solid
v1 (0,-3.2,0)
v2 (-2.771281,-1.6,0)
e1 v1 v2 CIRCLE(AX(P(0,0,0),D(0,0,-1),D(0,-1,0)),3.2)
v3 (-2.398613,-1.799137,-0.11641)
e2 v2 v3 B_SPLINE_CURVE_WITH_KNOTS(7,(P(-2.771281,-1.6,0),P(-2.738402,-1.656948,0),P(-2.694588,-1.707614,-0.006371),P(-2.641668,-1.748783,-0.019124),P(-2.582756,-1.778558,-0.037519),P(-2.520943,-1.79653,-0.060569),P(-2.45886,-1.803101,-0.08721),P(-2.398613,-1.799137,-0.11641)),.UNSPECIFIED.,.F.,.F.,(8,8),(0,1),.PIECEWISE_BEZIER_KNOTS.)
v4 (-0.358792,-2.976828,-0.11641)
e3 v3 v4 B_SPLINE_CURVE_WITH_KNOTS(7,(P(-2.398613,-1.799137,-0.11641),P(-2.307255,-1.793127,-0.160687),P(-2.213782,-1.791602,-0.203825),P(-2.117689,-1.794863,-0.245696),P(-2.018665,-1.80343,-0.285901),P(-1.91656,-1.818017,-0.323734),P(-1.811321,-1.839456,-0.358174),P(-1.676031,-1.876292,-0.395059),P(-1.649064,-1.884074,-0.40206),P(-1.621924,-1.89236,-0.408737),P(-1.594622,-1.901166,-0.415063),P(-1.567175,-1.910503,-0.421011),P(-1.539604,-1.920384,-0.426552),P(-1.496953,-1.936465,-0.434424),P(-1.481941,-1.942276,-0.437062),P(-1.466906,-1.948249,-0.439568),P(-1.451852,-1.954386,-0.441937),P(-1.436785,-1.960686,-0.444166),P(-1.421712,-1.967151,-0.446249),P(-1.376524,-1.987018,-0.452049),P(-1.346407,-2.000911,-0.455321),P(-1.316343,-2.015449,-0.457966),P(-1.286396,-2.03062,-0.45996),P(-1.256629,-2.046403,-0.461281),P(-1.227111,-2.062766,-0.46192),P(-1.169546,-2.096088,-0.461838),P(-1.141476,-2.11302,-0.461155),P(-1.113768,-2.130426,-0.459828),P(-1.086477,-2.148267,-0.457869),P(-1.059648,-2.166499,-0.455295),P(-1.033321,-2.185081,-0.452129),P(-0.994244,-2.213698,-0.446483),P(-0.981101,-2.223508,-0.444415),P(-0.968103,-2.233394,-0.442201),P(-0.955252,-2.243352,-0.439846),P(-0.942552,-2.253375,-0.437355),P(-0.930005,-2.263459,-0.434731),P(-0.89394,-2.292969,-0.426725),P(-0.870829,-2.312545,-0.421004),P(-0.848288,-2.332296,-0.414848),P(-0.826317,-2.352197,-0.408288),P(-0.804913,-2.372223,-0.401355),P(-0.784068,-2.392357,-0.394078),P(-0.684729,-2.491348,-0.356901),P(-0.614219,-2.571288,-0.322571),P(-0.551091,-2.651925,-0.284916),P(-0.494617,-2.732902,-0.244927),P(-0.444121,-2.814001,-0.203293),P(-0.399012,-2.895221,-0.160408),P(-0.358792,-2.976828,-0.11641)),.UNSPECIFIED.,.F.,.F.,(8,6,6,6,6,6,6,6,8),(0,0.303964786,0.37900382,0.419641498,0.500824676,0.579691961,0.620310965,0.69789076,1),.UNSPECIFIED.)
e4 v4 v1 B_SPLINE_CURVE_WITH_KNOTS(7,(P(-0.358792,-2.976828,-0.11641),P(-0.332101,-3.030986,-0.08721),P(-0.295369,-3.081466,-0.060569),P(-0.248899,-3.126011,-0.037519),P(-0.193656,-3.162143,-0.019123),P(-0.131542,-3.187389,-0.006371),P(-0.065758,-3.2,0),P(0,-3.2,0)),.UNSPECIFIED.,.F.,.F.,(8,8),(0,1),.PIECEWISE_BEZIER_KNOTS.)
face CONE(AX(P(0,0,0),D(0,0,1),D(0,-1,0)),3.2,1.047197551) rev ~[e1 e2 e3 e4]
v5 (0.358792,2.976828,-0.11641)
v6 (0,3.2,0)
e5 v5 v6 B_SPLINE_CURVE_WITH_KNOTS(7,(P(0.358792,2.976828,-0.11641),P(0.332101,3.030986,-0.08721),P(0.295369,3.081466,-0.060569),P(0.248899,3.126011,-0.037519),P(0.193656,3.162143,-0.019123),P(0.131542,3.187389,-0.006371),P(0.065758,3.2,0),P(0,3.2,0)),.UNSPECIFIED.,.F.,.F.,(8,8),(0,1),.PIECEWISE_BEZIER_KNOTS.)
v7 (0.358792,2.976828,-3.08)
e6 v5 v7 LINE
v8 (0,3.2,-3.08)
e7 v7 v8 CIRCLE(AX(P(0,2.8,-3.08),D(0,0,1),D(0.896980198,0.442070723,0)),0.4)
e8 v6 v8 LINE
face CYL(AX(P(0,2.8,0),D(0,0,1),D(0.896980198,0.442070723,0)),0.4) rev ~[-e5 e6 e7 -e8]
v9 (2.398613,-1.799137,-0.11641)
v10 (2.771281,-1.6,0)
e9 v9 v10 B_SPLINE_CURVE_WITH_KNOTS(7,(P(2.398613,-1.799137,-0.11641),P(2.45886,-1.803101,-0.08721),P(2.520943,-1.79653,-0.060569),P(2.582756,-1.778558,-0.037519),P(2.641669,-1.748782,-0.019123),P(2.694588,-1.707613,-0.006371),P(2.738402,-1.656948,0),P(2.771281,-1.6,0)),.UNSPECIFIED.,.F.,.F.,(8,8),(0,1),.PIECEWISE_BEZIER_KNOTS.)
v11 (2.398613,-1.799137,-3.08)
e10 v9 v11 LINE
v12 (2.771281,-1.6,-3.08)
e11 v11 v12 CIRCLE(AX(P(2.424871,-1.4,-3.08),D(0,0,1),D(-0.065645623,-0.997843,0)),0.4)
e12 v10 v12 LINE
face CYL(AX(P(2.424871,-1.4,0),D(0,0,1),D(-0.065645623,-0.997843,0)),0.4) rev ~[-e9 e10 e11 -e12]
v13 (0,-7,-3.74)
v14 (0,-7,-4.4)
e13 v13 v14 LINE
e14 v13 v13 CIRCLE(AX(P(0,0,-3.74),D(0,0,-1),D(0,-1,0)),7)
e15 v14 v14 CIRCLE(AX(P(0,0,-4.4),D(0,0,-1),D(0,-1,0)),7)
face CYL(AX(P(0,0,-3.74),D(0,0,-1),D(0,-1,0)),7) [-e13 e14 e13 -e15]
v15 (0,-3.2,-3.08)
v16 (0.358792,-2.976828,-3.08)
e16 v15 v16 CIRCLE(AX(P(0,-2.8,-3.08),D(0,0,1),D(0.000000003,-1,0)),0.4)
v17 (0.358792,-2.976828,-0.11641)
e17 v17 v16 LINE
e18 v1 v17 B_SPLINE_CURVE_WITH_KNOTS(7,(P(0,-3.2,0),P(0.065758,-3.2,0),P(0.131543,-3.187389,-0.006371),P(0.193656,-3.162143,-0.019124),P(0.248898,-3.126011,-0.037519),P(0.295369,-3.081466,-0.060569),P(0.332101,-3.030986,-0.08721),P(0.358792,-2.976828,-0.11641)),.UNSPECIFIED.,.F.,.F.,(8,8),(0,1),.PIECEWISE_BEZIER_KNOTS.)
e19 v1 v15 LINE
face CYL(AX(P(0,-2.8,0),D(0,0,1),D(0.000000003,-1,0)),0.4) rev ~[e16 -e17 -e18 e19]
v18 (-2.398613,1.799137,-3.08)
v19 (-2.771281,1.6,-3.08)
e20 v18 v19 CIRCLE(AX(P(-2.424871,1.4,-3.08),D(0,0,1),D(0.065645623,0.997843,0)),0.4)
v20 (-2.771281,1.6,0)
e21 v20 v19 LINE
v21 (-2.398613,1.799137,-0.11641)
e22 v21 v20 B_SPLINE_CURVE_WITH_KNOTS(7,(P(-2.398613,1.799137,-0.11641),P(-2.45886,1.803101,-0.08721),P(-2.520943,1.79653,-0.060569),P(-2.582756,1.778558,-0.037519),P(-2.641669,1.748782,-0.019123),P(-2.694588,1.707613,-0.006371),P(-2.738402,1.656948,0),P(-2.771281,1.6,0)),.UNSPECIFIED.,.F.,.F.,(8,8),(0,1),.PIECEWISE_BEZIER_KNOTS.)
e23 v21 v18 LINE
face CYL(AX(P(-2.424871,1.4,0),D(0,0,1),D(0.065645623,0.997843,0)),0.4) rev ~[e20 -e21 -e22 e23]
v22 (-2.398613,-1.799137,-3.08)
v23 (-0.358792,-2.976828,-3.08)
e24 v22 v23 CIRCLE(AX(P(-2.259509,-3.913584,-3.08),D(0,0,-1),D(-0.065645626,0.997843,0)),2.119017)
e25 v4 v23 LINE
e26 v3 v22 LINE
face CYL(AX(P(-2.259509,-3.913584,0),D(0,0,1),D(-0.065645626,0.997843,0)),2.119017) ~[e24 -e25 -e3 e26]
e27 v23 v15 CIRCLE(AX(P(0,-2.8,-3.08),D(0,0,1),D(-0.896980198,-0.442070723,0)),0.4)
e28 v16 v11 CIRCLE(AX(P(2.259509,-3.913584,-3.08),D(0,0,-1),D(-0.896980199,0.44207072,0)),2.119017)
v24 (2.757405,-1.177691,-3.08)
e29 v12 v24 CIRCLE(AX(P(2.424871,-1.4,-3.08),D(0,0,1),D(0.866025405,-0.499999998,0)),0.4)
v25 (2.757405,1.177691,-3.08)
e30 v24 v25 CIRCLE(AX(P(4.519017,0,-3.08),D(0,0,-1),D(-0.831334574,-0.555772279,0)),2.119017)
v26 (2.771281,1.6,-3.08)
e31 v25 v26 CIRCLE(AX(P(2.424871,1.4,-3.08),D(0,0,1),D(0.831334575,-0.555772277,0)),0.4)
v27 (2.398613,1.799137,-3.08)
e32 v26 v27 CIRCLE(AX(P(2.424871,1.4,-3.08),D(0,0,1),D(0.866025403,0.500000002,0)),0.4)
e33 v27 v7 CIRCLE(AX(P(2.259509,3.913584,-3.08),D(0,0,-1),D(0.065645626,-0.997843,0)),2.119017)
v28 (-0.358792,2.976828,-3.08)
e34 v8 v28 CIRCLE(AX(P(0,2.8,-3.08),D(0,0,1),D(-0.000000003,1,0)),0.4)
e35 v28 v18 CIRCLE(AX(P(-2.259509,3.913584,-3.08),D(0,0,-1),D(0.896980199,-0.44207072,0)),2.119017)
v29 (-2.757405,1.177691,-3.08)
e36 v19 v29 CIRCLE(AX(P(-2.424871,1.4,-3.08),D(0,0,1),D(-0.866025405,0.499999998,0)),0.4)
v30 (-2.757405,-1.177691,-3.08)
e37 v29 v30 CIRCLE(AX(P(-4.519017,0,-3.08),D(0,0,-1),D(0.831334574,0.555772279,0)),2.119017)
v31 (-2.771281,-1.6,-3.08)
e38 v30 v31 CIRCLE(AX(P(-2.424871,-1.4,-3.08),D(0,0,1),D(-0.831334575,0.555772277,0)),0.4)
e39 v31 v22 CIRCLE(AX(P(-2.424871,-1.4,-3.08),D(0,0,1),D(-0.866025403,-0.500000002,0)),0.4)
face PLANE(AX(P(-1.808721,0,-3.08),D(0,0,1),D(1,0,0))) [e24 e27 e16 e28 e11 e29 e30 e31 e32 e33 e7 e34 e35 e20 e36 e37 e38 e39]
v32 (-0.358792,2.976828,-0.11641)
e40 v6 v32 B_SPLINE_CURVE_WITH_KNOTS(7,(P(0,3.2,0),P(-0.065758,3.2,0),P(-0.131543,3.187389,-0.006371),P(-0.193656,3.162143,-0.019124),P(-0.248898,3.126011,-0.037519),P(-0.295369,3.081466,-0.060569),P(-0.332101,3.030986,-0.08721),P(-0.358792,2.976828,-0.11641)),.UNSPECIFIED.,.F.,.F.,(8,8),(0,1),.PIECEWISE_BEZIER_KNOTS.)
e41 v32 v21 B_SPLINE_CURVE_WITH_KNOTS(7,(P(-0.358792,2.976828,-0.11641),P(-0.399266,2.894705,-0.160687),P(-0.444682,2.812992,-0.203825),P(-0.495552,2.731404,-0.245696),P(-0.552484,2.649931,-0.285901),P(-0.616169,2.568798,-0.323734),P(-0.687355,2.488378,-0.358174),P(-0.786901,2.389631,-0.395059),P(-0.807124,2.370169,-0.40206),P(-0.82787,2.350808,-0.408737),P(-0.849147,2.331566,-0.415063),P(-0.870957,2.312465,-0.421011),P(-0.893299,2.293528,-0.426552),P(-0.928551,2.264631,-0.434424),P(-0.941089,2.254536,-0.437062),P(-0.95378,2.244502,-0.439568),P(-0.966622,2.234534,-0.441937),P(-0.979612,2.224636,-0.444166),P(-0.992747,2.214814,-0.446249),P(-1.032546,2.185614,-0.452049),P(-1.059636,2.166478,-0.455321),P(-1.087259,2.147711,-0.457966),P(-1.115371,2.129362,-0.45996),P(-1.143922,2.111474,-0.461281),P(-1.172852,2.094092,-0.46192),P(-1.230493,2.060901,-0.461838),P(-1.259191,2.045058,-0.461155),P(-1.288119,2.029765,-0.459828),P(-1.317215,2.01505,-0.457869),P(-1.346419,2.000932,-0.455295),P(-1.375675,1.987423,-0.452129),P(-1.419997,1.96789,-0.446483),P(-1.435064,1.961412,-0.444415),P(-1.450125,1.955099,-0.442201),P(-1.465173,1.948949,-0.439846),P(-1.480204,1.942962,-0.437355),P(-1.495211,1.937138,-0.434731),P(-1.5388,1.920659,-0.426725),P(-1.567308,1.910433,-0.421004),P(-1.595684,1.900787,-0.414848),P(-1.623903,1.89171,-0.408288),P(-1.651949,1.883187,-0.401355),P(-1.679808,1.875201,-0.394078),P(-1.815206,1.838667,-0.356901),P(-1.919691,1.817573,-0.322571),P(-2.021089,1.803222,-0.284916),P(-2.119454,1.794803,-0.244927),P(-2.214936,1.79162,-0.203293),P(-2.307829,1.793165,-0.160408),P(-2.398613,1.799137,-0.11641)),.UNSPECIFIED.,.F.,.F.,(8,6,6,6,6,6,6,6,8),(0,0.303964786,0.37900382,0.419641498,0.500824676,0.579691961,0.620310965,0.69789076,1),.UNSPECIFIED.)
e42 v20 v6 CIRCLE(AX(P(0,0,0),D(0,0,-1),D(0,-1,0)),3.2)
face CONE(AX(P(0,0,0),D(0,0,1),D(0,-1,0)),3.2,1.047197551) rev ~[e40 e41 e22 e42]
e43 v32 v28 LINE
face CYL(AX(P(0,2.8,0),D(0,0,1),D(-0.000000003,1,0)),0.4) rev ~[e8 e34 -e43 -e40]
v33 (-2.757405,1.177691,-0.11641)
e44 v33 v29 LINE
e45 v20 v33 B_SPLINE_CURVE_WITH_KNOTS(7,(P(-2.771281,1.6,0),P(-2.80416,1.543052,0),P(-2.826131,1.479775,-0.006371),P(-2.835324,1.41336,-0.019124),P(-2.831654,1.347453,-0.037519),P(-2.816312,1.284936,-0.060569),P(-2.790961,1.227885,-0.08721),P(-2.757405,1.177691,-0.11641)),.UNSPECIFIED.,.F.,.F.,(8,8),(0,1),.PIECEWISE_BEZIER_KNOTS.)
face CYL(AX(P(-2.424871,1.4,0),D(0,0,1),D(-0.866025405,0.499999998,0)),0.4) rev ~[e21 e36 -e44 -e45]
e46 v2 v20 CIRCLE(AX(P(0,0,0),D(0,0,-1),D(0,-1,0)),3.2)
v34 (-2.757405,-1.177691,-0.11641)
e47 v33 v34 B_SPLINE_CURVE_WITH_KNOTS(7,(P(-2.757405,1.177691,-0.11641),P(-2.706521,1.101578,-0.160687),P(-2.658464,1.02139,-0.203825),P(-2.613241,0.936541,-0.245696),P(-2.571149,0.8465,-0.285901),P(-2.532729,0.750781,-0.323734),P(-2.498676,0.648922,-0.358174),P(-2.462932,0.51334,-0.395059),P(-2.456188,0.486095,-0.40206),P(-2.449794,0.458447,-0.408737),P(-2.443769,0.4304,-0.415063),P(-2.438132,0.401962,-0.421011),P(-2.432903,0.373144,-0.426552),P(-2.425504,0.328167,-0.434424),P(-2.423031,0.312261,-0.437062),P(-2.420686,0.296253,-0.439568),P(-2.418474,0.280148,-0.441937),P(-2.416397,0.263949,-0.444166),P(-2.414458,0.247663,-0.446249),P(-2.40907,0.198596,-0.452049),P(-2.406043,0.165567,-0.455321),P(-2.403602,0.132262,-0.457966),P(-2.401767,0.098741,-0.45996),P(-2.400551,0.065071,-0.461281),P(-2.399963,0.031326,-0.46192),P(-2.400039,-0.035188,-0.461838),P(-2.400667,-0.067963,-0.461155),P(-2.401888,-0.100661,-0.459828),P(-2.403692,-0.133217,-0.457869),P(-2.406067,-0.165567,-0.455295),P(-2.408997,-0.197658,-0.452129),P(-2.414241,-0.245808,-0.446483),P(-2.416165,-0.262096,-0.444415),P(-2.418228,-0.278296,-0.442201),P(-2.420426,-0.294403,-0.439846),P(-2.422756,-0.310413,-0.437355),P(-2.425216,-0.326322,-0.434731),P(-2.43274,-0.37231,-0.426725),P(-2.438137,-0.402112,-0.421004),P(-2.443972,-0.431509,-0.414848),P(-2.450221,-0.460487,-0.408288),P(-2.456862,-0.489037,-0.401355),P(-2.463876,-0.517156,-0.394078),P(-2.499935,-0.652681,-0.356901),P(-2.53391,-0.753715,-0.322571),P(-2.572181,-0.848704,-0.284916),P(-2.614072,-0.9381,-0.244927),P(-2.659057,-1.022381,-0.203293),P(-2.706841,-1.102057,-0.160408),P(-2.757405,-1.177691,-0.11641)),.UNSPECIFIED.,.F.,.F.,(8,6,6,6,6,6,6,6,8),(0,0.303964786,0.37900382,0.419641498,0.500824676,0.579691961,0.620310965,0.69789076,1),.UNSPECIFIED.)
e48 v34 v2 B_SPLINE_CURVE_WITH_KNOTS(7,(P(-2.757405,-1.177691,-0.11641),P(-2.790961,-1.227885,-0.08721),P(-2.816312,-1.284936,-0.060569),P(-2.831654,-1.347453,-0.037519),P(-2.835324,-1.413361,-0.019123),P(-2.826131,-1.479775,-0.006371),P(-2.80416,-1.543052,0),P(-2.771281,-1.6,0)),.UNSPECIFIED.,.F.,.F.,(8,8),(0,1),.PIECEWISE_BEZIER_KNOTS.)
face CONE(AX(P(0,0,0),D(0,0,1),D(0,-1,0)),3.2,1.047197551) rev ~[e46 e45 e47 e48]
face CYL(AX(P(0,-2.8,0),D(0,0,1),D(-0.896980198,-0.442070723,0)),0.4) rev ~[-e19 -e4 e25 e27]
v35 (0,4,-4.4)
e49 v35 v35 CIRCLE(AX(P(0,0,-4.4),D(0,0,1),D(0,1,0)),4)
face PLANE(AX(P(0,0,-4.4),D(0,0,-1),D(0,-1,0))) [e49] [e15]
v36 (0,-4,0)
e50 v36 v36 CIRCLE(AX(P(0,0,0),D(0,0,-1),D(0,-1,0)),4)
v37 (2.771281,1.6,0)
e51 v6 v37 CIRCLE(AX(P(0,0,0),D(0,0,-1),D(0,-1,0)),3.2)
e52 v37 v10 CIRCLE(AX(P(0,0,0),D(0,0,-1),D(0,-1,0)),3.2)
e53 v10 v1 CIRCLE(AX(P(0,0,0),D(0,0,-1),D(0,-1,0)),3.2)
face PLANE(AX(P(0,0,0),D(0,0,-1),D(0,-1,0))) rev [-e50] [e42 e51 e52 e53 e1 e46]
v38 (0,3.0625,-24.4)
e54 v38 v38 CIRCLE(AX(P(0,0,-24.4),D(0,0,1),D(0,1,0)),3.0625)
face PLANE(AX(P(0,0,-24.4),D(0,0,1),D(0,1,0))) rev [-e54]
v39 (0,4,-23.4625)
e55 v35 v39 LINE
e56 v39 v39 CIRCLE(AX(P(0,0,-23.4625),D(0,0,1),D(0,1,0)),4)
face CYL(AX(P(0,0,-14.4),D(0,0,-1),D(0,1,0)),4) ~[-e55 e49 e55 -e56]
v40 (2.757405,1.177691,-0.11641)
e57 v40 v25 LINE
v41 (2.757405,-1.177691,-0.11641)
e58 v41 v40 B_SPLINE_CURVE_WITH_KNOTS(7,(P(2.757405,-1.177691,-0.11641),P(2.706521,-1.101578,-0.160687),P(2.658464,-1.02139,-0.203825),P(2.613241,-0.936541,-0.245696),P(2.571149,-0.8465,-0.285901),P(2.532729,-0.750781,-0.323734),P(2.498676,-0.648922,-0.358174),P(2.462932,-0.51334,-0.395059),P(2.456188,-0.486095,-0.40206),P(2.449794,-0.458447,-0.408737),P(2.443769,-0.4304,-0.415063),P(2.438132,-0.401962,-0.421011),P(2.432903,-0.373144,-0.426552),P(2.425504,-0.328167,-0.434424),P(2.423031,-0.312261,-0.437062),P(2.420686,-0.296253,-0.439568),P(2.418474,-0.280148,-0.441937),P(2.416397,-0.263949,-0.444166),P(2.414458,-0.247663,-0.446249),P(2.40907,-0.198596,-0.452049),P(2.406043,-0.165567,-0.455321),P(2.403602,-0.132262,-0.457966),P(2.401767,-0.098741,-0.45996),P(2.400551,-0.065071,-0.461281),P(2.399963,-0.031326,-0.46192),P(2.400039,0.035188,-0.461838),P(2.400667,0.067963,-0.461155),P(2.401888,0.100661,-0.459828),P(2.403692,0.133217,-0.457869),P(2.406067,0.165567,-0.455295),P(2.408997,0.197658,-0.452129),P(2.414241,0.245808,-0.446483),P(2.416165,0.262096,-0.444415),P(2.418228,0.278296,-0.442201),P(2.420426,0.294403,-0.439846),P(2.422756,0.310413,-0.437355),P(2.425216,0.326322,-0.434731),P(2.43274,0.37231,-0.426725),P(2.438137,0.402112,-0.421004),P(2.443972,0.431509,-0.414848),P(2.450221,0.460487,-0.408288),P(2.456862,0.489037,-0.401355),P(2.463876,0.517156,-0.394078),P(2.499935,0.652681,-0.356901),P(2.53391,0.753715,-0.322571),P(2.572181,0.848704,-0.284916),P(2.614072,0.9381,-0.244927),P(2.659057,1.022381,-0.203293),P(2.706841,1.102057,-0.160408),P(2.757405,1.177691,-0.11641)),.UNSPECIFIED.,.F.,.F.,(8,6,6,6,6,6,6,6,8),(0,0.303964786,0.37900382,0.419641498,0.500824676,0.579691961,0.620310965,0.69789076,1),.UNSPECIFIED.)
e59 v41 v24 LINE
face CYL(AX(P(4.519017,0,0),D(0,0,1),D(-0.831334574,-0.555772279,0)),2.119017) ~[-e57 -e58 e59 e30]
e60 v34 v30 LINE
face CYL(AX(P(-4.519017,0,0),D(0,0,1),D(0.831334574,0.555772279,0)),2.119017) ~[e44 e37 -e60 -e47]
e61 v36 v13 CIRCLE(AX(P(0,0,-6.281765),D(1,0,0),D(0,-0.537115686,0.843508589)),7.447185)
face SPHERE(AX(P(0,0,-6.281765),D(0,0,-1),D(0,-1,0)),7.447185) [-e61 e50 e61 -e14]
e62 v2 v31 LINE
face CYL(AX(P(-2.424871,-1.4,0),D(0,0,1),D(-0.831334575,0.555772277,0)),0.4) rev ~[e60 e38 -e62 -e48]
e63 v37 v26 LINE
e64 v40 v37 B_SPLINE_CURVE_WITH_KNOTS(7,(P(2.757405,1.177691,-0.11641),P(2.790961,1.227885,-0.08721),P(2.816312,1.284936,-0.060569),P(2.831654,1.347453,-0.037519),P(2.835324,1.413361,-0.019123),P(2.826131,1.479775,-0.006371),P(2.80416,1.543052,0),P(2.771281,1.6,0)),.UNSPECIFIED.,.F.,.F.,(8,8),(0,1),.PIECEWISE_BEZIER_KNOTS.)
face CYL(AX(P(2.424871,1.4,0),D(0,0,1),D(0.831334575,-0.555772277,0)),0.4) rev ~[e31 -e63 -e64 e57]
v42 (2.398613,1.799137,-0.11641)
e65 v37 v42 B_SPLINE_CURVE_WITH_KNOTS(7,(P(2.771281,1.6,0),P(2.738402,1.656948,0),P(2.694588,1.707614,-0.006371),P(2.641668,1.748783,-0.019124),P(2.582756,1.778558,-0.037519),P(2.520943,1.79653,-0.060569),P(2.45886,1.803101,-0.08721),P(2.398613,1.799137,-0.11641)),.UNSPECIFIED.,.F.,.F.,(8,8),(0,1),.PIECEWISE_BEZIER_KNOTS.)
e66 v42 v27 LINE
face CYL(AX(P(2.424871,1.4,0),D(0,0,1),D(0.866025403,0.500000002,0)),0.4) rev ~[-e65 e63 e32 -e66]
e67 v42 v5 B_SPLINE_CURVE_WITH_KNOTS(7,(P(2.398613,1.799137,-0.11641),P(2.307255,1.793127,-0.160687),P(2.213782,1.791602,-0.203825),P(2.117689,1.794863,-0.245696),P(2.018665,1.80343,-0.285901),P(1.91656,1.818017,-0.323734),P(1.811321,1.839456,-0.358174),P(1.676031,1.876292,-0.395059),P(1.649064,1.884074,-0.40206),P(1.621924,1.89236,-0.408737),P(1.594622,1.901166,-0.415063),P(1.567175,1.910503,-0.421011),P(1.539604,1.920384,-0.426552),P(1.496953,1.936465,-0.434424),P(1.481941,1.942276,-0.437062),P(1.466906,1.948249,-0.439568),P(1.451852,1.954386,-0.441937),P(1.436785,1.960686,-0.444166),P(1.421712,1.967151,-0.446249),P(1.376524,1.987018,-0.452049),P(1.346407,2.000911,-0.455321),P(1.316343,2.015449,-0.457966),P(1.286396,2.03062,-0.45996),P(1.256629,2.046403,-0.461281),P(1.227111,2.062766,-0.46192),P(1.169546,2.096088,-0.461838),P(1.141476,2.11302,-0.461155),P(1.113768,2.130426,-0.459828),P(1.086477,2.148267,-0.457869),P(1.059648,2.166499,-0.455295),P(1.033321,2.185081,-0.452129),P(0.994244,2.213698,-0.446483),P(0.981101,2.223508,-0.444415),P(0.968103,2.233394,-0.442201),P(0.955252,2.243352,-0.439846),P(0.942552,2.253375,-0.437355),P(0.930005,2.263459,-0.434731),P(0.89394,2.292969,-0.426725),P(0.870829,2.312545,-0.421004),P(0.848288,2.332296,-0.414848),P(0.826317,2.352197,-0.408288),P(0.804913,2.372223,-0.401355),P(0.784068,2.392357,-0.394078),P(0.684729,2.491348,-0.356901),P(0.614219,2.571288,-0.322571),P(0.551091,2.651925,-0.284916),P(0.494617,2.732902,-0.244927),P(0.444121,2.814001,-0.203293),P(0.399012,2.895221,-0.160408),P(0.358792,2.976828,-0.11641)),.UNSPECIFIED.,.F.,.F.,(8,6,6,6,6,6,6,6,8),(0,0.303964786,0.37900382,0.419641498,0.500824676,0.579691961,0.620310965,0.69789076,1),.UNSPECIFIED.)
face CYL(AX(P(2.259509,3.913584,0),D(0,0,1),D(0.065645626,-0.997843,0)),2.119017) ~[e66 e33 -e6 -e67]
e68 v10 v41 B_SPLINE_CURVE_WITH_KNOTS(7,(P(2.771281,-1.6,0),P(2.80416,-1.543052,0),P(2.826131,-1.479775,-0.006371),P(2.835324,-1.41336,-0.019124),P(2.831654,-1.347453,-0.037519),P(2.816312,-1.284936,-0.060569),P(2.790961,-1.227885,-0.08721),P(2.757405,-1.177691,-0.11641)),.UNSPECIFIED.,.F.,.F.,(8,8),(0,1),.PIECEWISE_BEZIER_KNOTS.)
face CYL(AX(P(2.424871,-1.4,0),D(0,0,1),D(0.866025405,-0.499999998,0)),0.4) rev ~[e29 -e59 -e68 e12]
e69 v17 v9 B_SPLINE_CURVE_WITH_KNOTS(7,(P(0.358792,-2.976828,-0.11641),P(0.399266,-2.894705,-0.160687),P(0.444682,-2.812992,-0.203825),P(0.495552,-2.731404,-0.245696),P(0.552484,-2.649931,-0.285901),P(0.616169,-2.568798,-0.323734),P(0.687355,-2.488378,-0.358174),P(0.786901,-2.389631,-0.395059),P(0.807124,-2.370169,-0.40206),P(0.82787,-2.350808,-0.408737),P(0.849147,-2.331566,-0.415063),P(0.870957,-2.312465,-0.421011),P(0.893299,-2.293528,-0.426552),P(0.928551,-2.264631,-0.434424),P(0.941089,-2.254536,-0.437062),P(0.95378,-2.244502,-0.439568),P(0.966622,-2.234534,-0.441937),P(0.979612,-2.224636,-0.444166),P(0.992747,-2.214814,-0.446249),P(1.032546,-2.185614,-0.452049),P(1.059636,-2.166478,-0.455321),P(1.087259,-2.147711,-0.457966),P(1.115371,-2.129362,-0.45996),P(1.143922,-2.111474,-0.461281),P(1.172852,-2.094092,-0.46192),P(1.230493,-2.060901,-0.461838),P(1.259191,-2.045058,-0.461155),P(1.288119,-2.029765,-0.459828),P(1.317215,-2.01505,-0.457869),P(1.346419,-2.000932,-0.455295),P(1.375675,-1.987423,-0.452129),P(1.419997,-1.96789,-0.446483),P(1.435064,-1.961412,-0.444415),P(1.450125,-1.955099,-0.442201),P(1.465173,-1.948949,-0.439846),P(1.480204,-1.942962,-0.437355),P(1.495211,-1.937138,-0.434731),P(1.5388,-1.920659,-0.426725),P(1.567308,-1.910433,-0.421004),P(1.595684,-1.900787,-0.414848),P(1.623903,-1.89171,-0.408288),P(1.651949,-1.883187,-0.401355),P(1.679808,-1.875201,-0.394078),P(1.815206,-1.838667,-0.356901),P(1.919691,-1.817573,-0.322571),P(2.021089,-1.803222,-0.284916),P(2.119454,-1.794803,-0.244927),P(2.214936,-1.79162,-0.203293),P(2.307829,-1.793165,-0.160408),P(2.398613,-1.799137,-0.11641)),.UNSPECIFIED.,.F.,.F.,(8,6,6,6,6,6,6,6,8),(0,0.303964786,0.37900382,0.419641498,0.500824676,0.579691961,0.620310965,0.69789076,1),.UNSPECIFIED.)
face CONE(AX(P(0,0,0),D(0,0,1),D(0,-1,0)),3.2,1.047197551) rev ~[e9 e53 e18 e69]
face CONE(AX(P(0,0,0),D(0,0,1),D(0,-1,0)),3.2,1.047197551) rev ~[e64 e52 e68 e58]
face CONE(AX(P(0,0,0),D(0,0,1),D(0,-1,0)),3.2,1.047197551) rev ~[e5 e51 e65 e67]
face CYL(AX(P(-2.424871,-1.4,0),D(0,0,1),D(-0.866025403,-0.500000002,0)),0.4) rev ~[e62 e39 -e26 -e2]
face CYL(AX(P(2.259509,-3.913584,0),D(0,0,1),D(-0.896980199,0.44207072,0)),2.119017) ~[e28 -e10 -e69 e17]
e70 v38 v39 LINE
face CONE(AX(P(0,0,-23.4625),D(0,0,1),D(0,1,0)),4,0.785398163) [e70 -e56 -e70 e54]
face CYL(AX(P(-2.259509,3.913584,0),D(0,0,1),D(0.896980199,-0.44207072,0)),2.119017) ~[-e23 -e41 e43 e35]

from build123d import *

# Parameters (mm, degrees)
SKETCH1_W          = 20
SKETCH1_H          = 4
CHAMFER1_SIZE      = 0.9375
CUT_EXTRUDE4_DEPTH = 3.08
CIRPATTERN1_COUNT  = 6


with BuildPart() as part:
    # Sketch1 → Revolve1 (revolve)
    with BuildSketch(Plane(origin=(0, 0, 0), x_dir=(0, 0, -1), z_dir=(1, 0, 0))):
        with Locations((14.4, 2)):
            Rectangle(SKETCH1_W, SKETCH1_H)
    revolve(axis=Axis((0, 0, -24.4), (0, 0, 1)))

    # Chamfer1
    chamfer1_edges = [part.edges().sort_by_distance(p)[0] for p in [
        (0, -4, -24.4),
    ]]
    chamfer(chamfer1_edges, length=CHAMFER1_SIZE)

    # Sketch7 → Revolve2 (revolve)
    with BuildSketch(Plane(origin=(0, 0, 0), x_dir=(0, 0, -1), z_dir=(1, 0, 0))):
        with BuildLine():
            Line((3.74, 7), (4.4, 7))
            Line((4.4, 7), (4.4, 0))
            Line((4.4, 0), (0, 0))
            Line((0, 0), (0, 4))
            ThreePointArc((0, 4), (1.621972026, 5.809208208), (3.74, 7))
        make_face()
    revolve(axis=Axis((0, 0, 0), (0, 0, -1)))

    # Sketch11 → Cut-Extrude4 (cut)
    with BuildSketch(Plane.XY):
        with BuildLine():
            Line((0, 0), (-2.771281292, 1.6))
            ThreePointArc((-2.771281292, 1.6), (-2.824655372, 1.386863789), (-2.75740496, 1.177691088))
            ThreePointArc((-2.75740496, 1.177691088), (-2.4, 0), (-2.75740496, -1.177691088))
            ThreePointArc((-2.75740496, -1.177691088), (-2.824655372, -1.386863789), (-2.771281292, -1.6))
            Line((-2.771281292, -1.6), (0, 0))
        make_face()
    cut_extrude4 = extrude(amount=-CUT_EXTRUDE4_DEPTH, mode=Mode.SUBTRACT)

    # CirPattern1: Cut-Extrude4 ×6 about axis
    cirpattern1_axis = Axis((0, 0, 0), (0, 0, -1))
    for i in range(1, CIRPATTERN1_COUNT):
        add(cut_extrude4.rotate(cirpattern1_axis, i * 360 / CIRPATTERN1_COUNT), mode=Mode.SUBTRACT)

    # Cut-Extrude3 cone 1 section (through the dimple's axis) → Cut-Extrude3 (revolve, cut)
    with BuildSketch(Plane(origin=(0, 0, 0), x_dir=(0, -1, 0), z_dir=(1, 0, 0))):
        Polygon((0, 0), (3.2, 0), (0, 1.847520861), align=None)
    revolve(axis=Axis((0, 0, 0), (0, 0, -1)), mode=Mode.SUBTRACT)


solid = part.part
